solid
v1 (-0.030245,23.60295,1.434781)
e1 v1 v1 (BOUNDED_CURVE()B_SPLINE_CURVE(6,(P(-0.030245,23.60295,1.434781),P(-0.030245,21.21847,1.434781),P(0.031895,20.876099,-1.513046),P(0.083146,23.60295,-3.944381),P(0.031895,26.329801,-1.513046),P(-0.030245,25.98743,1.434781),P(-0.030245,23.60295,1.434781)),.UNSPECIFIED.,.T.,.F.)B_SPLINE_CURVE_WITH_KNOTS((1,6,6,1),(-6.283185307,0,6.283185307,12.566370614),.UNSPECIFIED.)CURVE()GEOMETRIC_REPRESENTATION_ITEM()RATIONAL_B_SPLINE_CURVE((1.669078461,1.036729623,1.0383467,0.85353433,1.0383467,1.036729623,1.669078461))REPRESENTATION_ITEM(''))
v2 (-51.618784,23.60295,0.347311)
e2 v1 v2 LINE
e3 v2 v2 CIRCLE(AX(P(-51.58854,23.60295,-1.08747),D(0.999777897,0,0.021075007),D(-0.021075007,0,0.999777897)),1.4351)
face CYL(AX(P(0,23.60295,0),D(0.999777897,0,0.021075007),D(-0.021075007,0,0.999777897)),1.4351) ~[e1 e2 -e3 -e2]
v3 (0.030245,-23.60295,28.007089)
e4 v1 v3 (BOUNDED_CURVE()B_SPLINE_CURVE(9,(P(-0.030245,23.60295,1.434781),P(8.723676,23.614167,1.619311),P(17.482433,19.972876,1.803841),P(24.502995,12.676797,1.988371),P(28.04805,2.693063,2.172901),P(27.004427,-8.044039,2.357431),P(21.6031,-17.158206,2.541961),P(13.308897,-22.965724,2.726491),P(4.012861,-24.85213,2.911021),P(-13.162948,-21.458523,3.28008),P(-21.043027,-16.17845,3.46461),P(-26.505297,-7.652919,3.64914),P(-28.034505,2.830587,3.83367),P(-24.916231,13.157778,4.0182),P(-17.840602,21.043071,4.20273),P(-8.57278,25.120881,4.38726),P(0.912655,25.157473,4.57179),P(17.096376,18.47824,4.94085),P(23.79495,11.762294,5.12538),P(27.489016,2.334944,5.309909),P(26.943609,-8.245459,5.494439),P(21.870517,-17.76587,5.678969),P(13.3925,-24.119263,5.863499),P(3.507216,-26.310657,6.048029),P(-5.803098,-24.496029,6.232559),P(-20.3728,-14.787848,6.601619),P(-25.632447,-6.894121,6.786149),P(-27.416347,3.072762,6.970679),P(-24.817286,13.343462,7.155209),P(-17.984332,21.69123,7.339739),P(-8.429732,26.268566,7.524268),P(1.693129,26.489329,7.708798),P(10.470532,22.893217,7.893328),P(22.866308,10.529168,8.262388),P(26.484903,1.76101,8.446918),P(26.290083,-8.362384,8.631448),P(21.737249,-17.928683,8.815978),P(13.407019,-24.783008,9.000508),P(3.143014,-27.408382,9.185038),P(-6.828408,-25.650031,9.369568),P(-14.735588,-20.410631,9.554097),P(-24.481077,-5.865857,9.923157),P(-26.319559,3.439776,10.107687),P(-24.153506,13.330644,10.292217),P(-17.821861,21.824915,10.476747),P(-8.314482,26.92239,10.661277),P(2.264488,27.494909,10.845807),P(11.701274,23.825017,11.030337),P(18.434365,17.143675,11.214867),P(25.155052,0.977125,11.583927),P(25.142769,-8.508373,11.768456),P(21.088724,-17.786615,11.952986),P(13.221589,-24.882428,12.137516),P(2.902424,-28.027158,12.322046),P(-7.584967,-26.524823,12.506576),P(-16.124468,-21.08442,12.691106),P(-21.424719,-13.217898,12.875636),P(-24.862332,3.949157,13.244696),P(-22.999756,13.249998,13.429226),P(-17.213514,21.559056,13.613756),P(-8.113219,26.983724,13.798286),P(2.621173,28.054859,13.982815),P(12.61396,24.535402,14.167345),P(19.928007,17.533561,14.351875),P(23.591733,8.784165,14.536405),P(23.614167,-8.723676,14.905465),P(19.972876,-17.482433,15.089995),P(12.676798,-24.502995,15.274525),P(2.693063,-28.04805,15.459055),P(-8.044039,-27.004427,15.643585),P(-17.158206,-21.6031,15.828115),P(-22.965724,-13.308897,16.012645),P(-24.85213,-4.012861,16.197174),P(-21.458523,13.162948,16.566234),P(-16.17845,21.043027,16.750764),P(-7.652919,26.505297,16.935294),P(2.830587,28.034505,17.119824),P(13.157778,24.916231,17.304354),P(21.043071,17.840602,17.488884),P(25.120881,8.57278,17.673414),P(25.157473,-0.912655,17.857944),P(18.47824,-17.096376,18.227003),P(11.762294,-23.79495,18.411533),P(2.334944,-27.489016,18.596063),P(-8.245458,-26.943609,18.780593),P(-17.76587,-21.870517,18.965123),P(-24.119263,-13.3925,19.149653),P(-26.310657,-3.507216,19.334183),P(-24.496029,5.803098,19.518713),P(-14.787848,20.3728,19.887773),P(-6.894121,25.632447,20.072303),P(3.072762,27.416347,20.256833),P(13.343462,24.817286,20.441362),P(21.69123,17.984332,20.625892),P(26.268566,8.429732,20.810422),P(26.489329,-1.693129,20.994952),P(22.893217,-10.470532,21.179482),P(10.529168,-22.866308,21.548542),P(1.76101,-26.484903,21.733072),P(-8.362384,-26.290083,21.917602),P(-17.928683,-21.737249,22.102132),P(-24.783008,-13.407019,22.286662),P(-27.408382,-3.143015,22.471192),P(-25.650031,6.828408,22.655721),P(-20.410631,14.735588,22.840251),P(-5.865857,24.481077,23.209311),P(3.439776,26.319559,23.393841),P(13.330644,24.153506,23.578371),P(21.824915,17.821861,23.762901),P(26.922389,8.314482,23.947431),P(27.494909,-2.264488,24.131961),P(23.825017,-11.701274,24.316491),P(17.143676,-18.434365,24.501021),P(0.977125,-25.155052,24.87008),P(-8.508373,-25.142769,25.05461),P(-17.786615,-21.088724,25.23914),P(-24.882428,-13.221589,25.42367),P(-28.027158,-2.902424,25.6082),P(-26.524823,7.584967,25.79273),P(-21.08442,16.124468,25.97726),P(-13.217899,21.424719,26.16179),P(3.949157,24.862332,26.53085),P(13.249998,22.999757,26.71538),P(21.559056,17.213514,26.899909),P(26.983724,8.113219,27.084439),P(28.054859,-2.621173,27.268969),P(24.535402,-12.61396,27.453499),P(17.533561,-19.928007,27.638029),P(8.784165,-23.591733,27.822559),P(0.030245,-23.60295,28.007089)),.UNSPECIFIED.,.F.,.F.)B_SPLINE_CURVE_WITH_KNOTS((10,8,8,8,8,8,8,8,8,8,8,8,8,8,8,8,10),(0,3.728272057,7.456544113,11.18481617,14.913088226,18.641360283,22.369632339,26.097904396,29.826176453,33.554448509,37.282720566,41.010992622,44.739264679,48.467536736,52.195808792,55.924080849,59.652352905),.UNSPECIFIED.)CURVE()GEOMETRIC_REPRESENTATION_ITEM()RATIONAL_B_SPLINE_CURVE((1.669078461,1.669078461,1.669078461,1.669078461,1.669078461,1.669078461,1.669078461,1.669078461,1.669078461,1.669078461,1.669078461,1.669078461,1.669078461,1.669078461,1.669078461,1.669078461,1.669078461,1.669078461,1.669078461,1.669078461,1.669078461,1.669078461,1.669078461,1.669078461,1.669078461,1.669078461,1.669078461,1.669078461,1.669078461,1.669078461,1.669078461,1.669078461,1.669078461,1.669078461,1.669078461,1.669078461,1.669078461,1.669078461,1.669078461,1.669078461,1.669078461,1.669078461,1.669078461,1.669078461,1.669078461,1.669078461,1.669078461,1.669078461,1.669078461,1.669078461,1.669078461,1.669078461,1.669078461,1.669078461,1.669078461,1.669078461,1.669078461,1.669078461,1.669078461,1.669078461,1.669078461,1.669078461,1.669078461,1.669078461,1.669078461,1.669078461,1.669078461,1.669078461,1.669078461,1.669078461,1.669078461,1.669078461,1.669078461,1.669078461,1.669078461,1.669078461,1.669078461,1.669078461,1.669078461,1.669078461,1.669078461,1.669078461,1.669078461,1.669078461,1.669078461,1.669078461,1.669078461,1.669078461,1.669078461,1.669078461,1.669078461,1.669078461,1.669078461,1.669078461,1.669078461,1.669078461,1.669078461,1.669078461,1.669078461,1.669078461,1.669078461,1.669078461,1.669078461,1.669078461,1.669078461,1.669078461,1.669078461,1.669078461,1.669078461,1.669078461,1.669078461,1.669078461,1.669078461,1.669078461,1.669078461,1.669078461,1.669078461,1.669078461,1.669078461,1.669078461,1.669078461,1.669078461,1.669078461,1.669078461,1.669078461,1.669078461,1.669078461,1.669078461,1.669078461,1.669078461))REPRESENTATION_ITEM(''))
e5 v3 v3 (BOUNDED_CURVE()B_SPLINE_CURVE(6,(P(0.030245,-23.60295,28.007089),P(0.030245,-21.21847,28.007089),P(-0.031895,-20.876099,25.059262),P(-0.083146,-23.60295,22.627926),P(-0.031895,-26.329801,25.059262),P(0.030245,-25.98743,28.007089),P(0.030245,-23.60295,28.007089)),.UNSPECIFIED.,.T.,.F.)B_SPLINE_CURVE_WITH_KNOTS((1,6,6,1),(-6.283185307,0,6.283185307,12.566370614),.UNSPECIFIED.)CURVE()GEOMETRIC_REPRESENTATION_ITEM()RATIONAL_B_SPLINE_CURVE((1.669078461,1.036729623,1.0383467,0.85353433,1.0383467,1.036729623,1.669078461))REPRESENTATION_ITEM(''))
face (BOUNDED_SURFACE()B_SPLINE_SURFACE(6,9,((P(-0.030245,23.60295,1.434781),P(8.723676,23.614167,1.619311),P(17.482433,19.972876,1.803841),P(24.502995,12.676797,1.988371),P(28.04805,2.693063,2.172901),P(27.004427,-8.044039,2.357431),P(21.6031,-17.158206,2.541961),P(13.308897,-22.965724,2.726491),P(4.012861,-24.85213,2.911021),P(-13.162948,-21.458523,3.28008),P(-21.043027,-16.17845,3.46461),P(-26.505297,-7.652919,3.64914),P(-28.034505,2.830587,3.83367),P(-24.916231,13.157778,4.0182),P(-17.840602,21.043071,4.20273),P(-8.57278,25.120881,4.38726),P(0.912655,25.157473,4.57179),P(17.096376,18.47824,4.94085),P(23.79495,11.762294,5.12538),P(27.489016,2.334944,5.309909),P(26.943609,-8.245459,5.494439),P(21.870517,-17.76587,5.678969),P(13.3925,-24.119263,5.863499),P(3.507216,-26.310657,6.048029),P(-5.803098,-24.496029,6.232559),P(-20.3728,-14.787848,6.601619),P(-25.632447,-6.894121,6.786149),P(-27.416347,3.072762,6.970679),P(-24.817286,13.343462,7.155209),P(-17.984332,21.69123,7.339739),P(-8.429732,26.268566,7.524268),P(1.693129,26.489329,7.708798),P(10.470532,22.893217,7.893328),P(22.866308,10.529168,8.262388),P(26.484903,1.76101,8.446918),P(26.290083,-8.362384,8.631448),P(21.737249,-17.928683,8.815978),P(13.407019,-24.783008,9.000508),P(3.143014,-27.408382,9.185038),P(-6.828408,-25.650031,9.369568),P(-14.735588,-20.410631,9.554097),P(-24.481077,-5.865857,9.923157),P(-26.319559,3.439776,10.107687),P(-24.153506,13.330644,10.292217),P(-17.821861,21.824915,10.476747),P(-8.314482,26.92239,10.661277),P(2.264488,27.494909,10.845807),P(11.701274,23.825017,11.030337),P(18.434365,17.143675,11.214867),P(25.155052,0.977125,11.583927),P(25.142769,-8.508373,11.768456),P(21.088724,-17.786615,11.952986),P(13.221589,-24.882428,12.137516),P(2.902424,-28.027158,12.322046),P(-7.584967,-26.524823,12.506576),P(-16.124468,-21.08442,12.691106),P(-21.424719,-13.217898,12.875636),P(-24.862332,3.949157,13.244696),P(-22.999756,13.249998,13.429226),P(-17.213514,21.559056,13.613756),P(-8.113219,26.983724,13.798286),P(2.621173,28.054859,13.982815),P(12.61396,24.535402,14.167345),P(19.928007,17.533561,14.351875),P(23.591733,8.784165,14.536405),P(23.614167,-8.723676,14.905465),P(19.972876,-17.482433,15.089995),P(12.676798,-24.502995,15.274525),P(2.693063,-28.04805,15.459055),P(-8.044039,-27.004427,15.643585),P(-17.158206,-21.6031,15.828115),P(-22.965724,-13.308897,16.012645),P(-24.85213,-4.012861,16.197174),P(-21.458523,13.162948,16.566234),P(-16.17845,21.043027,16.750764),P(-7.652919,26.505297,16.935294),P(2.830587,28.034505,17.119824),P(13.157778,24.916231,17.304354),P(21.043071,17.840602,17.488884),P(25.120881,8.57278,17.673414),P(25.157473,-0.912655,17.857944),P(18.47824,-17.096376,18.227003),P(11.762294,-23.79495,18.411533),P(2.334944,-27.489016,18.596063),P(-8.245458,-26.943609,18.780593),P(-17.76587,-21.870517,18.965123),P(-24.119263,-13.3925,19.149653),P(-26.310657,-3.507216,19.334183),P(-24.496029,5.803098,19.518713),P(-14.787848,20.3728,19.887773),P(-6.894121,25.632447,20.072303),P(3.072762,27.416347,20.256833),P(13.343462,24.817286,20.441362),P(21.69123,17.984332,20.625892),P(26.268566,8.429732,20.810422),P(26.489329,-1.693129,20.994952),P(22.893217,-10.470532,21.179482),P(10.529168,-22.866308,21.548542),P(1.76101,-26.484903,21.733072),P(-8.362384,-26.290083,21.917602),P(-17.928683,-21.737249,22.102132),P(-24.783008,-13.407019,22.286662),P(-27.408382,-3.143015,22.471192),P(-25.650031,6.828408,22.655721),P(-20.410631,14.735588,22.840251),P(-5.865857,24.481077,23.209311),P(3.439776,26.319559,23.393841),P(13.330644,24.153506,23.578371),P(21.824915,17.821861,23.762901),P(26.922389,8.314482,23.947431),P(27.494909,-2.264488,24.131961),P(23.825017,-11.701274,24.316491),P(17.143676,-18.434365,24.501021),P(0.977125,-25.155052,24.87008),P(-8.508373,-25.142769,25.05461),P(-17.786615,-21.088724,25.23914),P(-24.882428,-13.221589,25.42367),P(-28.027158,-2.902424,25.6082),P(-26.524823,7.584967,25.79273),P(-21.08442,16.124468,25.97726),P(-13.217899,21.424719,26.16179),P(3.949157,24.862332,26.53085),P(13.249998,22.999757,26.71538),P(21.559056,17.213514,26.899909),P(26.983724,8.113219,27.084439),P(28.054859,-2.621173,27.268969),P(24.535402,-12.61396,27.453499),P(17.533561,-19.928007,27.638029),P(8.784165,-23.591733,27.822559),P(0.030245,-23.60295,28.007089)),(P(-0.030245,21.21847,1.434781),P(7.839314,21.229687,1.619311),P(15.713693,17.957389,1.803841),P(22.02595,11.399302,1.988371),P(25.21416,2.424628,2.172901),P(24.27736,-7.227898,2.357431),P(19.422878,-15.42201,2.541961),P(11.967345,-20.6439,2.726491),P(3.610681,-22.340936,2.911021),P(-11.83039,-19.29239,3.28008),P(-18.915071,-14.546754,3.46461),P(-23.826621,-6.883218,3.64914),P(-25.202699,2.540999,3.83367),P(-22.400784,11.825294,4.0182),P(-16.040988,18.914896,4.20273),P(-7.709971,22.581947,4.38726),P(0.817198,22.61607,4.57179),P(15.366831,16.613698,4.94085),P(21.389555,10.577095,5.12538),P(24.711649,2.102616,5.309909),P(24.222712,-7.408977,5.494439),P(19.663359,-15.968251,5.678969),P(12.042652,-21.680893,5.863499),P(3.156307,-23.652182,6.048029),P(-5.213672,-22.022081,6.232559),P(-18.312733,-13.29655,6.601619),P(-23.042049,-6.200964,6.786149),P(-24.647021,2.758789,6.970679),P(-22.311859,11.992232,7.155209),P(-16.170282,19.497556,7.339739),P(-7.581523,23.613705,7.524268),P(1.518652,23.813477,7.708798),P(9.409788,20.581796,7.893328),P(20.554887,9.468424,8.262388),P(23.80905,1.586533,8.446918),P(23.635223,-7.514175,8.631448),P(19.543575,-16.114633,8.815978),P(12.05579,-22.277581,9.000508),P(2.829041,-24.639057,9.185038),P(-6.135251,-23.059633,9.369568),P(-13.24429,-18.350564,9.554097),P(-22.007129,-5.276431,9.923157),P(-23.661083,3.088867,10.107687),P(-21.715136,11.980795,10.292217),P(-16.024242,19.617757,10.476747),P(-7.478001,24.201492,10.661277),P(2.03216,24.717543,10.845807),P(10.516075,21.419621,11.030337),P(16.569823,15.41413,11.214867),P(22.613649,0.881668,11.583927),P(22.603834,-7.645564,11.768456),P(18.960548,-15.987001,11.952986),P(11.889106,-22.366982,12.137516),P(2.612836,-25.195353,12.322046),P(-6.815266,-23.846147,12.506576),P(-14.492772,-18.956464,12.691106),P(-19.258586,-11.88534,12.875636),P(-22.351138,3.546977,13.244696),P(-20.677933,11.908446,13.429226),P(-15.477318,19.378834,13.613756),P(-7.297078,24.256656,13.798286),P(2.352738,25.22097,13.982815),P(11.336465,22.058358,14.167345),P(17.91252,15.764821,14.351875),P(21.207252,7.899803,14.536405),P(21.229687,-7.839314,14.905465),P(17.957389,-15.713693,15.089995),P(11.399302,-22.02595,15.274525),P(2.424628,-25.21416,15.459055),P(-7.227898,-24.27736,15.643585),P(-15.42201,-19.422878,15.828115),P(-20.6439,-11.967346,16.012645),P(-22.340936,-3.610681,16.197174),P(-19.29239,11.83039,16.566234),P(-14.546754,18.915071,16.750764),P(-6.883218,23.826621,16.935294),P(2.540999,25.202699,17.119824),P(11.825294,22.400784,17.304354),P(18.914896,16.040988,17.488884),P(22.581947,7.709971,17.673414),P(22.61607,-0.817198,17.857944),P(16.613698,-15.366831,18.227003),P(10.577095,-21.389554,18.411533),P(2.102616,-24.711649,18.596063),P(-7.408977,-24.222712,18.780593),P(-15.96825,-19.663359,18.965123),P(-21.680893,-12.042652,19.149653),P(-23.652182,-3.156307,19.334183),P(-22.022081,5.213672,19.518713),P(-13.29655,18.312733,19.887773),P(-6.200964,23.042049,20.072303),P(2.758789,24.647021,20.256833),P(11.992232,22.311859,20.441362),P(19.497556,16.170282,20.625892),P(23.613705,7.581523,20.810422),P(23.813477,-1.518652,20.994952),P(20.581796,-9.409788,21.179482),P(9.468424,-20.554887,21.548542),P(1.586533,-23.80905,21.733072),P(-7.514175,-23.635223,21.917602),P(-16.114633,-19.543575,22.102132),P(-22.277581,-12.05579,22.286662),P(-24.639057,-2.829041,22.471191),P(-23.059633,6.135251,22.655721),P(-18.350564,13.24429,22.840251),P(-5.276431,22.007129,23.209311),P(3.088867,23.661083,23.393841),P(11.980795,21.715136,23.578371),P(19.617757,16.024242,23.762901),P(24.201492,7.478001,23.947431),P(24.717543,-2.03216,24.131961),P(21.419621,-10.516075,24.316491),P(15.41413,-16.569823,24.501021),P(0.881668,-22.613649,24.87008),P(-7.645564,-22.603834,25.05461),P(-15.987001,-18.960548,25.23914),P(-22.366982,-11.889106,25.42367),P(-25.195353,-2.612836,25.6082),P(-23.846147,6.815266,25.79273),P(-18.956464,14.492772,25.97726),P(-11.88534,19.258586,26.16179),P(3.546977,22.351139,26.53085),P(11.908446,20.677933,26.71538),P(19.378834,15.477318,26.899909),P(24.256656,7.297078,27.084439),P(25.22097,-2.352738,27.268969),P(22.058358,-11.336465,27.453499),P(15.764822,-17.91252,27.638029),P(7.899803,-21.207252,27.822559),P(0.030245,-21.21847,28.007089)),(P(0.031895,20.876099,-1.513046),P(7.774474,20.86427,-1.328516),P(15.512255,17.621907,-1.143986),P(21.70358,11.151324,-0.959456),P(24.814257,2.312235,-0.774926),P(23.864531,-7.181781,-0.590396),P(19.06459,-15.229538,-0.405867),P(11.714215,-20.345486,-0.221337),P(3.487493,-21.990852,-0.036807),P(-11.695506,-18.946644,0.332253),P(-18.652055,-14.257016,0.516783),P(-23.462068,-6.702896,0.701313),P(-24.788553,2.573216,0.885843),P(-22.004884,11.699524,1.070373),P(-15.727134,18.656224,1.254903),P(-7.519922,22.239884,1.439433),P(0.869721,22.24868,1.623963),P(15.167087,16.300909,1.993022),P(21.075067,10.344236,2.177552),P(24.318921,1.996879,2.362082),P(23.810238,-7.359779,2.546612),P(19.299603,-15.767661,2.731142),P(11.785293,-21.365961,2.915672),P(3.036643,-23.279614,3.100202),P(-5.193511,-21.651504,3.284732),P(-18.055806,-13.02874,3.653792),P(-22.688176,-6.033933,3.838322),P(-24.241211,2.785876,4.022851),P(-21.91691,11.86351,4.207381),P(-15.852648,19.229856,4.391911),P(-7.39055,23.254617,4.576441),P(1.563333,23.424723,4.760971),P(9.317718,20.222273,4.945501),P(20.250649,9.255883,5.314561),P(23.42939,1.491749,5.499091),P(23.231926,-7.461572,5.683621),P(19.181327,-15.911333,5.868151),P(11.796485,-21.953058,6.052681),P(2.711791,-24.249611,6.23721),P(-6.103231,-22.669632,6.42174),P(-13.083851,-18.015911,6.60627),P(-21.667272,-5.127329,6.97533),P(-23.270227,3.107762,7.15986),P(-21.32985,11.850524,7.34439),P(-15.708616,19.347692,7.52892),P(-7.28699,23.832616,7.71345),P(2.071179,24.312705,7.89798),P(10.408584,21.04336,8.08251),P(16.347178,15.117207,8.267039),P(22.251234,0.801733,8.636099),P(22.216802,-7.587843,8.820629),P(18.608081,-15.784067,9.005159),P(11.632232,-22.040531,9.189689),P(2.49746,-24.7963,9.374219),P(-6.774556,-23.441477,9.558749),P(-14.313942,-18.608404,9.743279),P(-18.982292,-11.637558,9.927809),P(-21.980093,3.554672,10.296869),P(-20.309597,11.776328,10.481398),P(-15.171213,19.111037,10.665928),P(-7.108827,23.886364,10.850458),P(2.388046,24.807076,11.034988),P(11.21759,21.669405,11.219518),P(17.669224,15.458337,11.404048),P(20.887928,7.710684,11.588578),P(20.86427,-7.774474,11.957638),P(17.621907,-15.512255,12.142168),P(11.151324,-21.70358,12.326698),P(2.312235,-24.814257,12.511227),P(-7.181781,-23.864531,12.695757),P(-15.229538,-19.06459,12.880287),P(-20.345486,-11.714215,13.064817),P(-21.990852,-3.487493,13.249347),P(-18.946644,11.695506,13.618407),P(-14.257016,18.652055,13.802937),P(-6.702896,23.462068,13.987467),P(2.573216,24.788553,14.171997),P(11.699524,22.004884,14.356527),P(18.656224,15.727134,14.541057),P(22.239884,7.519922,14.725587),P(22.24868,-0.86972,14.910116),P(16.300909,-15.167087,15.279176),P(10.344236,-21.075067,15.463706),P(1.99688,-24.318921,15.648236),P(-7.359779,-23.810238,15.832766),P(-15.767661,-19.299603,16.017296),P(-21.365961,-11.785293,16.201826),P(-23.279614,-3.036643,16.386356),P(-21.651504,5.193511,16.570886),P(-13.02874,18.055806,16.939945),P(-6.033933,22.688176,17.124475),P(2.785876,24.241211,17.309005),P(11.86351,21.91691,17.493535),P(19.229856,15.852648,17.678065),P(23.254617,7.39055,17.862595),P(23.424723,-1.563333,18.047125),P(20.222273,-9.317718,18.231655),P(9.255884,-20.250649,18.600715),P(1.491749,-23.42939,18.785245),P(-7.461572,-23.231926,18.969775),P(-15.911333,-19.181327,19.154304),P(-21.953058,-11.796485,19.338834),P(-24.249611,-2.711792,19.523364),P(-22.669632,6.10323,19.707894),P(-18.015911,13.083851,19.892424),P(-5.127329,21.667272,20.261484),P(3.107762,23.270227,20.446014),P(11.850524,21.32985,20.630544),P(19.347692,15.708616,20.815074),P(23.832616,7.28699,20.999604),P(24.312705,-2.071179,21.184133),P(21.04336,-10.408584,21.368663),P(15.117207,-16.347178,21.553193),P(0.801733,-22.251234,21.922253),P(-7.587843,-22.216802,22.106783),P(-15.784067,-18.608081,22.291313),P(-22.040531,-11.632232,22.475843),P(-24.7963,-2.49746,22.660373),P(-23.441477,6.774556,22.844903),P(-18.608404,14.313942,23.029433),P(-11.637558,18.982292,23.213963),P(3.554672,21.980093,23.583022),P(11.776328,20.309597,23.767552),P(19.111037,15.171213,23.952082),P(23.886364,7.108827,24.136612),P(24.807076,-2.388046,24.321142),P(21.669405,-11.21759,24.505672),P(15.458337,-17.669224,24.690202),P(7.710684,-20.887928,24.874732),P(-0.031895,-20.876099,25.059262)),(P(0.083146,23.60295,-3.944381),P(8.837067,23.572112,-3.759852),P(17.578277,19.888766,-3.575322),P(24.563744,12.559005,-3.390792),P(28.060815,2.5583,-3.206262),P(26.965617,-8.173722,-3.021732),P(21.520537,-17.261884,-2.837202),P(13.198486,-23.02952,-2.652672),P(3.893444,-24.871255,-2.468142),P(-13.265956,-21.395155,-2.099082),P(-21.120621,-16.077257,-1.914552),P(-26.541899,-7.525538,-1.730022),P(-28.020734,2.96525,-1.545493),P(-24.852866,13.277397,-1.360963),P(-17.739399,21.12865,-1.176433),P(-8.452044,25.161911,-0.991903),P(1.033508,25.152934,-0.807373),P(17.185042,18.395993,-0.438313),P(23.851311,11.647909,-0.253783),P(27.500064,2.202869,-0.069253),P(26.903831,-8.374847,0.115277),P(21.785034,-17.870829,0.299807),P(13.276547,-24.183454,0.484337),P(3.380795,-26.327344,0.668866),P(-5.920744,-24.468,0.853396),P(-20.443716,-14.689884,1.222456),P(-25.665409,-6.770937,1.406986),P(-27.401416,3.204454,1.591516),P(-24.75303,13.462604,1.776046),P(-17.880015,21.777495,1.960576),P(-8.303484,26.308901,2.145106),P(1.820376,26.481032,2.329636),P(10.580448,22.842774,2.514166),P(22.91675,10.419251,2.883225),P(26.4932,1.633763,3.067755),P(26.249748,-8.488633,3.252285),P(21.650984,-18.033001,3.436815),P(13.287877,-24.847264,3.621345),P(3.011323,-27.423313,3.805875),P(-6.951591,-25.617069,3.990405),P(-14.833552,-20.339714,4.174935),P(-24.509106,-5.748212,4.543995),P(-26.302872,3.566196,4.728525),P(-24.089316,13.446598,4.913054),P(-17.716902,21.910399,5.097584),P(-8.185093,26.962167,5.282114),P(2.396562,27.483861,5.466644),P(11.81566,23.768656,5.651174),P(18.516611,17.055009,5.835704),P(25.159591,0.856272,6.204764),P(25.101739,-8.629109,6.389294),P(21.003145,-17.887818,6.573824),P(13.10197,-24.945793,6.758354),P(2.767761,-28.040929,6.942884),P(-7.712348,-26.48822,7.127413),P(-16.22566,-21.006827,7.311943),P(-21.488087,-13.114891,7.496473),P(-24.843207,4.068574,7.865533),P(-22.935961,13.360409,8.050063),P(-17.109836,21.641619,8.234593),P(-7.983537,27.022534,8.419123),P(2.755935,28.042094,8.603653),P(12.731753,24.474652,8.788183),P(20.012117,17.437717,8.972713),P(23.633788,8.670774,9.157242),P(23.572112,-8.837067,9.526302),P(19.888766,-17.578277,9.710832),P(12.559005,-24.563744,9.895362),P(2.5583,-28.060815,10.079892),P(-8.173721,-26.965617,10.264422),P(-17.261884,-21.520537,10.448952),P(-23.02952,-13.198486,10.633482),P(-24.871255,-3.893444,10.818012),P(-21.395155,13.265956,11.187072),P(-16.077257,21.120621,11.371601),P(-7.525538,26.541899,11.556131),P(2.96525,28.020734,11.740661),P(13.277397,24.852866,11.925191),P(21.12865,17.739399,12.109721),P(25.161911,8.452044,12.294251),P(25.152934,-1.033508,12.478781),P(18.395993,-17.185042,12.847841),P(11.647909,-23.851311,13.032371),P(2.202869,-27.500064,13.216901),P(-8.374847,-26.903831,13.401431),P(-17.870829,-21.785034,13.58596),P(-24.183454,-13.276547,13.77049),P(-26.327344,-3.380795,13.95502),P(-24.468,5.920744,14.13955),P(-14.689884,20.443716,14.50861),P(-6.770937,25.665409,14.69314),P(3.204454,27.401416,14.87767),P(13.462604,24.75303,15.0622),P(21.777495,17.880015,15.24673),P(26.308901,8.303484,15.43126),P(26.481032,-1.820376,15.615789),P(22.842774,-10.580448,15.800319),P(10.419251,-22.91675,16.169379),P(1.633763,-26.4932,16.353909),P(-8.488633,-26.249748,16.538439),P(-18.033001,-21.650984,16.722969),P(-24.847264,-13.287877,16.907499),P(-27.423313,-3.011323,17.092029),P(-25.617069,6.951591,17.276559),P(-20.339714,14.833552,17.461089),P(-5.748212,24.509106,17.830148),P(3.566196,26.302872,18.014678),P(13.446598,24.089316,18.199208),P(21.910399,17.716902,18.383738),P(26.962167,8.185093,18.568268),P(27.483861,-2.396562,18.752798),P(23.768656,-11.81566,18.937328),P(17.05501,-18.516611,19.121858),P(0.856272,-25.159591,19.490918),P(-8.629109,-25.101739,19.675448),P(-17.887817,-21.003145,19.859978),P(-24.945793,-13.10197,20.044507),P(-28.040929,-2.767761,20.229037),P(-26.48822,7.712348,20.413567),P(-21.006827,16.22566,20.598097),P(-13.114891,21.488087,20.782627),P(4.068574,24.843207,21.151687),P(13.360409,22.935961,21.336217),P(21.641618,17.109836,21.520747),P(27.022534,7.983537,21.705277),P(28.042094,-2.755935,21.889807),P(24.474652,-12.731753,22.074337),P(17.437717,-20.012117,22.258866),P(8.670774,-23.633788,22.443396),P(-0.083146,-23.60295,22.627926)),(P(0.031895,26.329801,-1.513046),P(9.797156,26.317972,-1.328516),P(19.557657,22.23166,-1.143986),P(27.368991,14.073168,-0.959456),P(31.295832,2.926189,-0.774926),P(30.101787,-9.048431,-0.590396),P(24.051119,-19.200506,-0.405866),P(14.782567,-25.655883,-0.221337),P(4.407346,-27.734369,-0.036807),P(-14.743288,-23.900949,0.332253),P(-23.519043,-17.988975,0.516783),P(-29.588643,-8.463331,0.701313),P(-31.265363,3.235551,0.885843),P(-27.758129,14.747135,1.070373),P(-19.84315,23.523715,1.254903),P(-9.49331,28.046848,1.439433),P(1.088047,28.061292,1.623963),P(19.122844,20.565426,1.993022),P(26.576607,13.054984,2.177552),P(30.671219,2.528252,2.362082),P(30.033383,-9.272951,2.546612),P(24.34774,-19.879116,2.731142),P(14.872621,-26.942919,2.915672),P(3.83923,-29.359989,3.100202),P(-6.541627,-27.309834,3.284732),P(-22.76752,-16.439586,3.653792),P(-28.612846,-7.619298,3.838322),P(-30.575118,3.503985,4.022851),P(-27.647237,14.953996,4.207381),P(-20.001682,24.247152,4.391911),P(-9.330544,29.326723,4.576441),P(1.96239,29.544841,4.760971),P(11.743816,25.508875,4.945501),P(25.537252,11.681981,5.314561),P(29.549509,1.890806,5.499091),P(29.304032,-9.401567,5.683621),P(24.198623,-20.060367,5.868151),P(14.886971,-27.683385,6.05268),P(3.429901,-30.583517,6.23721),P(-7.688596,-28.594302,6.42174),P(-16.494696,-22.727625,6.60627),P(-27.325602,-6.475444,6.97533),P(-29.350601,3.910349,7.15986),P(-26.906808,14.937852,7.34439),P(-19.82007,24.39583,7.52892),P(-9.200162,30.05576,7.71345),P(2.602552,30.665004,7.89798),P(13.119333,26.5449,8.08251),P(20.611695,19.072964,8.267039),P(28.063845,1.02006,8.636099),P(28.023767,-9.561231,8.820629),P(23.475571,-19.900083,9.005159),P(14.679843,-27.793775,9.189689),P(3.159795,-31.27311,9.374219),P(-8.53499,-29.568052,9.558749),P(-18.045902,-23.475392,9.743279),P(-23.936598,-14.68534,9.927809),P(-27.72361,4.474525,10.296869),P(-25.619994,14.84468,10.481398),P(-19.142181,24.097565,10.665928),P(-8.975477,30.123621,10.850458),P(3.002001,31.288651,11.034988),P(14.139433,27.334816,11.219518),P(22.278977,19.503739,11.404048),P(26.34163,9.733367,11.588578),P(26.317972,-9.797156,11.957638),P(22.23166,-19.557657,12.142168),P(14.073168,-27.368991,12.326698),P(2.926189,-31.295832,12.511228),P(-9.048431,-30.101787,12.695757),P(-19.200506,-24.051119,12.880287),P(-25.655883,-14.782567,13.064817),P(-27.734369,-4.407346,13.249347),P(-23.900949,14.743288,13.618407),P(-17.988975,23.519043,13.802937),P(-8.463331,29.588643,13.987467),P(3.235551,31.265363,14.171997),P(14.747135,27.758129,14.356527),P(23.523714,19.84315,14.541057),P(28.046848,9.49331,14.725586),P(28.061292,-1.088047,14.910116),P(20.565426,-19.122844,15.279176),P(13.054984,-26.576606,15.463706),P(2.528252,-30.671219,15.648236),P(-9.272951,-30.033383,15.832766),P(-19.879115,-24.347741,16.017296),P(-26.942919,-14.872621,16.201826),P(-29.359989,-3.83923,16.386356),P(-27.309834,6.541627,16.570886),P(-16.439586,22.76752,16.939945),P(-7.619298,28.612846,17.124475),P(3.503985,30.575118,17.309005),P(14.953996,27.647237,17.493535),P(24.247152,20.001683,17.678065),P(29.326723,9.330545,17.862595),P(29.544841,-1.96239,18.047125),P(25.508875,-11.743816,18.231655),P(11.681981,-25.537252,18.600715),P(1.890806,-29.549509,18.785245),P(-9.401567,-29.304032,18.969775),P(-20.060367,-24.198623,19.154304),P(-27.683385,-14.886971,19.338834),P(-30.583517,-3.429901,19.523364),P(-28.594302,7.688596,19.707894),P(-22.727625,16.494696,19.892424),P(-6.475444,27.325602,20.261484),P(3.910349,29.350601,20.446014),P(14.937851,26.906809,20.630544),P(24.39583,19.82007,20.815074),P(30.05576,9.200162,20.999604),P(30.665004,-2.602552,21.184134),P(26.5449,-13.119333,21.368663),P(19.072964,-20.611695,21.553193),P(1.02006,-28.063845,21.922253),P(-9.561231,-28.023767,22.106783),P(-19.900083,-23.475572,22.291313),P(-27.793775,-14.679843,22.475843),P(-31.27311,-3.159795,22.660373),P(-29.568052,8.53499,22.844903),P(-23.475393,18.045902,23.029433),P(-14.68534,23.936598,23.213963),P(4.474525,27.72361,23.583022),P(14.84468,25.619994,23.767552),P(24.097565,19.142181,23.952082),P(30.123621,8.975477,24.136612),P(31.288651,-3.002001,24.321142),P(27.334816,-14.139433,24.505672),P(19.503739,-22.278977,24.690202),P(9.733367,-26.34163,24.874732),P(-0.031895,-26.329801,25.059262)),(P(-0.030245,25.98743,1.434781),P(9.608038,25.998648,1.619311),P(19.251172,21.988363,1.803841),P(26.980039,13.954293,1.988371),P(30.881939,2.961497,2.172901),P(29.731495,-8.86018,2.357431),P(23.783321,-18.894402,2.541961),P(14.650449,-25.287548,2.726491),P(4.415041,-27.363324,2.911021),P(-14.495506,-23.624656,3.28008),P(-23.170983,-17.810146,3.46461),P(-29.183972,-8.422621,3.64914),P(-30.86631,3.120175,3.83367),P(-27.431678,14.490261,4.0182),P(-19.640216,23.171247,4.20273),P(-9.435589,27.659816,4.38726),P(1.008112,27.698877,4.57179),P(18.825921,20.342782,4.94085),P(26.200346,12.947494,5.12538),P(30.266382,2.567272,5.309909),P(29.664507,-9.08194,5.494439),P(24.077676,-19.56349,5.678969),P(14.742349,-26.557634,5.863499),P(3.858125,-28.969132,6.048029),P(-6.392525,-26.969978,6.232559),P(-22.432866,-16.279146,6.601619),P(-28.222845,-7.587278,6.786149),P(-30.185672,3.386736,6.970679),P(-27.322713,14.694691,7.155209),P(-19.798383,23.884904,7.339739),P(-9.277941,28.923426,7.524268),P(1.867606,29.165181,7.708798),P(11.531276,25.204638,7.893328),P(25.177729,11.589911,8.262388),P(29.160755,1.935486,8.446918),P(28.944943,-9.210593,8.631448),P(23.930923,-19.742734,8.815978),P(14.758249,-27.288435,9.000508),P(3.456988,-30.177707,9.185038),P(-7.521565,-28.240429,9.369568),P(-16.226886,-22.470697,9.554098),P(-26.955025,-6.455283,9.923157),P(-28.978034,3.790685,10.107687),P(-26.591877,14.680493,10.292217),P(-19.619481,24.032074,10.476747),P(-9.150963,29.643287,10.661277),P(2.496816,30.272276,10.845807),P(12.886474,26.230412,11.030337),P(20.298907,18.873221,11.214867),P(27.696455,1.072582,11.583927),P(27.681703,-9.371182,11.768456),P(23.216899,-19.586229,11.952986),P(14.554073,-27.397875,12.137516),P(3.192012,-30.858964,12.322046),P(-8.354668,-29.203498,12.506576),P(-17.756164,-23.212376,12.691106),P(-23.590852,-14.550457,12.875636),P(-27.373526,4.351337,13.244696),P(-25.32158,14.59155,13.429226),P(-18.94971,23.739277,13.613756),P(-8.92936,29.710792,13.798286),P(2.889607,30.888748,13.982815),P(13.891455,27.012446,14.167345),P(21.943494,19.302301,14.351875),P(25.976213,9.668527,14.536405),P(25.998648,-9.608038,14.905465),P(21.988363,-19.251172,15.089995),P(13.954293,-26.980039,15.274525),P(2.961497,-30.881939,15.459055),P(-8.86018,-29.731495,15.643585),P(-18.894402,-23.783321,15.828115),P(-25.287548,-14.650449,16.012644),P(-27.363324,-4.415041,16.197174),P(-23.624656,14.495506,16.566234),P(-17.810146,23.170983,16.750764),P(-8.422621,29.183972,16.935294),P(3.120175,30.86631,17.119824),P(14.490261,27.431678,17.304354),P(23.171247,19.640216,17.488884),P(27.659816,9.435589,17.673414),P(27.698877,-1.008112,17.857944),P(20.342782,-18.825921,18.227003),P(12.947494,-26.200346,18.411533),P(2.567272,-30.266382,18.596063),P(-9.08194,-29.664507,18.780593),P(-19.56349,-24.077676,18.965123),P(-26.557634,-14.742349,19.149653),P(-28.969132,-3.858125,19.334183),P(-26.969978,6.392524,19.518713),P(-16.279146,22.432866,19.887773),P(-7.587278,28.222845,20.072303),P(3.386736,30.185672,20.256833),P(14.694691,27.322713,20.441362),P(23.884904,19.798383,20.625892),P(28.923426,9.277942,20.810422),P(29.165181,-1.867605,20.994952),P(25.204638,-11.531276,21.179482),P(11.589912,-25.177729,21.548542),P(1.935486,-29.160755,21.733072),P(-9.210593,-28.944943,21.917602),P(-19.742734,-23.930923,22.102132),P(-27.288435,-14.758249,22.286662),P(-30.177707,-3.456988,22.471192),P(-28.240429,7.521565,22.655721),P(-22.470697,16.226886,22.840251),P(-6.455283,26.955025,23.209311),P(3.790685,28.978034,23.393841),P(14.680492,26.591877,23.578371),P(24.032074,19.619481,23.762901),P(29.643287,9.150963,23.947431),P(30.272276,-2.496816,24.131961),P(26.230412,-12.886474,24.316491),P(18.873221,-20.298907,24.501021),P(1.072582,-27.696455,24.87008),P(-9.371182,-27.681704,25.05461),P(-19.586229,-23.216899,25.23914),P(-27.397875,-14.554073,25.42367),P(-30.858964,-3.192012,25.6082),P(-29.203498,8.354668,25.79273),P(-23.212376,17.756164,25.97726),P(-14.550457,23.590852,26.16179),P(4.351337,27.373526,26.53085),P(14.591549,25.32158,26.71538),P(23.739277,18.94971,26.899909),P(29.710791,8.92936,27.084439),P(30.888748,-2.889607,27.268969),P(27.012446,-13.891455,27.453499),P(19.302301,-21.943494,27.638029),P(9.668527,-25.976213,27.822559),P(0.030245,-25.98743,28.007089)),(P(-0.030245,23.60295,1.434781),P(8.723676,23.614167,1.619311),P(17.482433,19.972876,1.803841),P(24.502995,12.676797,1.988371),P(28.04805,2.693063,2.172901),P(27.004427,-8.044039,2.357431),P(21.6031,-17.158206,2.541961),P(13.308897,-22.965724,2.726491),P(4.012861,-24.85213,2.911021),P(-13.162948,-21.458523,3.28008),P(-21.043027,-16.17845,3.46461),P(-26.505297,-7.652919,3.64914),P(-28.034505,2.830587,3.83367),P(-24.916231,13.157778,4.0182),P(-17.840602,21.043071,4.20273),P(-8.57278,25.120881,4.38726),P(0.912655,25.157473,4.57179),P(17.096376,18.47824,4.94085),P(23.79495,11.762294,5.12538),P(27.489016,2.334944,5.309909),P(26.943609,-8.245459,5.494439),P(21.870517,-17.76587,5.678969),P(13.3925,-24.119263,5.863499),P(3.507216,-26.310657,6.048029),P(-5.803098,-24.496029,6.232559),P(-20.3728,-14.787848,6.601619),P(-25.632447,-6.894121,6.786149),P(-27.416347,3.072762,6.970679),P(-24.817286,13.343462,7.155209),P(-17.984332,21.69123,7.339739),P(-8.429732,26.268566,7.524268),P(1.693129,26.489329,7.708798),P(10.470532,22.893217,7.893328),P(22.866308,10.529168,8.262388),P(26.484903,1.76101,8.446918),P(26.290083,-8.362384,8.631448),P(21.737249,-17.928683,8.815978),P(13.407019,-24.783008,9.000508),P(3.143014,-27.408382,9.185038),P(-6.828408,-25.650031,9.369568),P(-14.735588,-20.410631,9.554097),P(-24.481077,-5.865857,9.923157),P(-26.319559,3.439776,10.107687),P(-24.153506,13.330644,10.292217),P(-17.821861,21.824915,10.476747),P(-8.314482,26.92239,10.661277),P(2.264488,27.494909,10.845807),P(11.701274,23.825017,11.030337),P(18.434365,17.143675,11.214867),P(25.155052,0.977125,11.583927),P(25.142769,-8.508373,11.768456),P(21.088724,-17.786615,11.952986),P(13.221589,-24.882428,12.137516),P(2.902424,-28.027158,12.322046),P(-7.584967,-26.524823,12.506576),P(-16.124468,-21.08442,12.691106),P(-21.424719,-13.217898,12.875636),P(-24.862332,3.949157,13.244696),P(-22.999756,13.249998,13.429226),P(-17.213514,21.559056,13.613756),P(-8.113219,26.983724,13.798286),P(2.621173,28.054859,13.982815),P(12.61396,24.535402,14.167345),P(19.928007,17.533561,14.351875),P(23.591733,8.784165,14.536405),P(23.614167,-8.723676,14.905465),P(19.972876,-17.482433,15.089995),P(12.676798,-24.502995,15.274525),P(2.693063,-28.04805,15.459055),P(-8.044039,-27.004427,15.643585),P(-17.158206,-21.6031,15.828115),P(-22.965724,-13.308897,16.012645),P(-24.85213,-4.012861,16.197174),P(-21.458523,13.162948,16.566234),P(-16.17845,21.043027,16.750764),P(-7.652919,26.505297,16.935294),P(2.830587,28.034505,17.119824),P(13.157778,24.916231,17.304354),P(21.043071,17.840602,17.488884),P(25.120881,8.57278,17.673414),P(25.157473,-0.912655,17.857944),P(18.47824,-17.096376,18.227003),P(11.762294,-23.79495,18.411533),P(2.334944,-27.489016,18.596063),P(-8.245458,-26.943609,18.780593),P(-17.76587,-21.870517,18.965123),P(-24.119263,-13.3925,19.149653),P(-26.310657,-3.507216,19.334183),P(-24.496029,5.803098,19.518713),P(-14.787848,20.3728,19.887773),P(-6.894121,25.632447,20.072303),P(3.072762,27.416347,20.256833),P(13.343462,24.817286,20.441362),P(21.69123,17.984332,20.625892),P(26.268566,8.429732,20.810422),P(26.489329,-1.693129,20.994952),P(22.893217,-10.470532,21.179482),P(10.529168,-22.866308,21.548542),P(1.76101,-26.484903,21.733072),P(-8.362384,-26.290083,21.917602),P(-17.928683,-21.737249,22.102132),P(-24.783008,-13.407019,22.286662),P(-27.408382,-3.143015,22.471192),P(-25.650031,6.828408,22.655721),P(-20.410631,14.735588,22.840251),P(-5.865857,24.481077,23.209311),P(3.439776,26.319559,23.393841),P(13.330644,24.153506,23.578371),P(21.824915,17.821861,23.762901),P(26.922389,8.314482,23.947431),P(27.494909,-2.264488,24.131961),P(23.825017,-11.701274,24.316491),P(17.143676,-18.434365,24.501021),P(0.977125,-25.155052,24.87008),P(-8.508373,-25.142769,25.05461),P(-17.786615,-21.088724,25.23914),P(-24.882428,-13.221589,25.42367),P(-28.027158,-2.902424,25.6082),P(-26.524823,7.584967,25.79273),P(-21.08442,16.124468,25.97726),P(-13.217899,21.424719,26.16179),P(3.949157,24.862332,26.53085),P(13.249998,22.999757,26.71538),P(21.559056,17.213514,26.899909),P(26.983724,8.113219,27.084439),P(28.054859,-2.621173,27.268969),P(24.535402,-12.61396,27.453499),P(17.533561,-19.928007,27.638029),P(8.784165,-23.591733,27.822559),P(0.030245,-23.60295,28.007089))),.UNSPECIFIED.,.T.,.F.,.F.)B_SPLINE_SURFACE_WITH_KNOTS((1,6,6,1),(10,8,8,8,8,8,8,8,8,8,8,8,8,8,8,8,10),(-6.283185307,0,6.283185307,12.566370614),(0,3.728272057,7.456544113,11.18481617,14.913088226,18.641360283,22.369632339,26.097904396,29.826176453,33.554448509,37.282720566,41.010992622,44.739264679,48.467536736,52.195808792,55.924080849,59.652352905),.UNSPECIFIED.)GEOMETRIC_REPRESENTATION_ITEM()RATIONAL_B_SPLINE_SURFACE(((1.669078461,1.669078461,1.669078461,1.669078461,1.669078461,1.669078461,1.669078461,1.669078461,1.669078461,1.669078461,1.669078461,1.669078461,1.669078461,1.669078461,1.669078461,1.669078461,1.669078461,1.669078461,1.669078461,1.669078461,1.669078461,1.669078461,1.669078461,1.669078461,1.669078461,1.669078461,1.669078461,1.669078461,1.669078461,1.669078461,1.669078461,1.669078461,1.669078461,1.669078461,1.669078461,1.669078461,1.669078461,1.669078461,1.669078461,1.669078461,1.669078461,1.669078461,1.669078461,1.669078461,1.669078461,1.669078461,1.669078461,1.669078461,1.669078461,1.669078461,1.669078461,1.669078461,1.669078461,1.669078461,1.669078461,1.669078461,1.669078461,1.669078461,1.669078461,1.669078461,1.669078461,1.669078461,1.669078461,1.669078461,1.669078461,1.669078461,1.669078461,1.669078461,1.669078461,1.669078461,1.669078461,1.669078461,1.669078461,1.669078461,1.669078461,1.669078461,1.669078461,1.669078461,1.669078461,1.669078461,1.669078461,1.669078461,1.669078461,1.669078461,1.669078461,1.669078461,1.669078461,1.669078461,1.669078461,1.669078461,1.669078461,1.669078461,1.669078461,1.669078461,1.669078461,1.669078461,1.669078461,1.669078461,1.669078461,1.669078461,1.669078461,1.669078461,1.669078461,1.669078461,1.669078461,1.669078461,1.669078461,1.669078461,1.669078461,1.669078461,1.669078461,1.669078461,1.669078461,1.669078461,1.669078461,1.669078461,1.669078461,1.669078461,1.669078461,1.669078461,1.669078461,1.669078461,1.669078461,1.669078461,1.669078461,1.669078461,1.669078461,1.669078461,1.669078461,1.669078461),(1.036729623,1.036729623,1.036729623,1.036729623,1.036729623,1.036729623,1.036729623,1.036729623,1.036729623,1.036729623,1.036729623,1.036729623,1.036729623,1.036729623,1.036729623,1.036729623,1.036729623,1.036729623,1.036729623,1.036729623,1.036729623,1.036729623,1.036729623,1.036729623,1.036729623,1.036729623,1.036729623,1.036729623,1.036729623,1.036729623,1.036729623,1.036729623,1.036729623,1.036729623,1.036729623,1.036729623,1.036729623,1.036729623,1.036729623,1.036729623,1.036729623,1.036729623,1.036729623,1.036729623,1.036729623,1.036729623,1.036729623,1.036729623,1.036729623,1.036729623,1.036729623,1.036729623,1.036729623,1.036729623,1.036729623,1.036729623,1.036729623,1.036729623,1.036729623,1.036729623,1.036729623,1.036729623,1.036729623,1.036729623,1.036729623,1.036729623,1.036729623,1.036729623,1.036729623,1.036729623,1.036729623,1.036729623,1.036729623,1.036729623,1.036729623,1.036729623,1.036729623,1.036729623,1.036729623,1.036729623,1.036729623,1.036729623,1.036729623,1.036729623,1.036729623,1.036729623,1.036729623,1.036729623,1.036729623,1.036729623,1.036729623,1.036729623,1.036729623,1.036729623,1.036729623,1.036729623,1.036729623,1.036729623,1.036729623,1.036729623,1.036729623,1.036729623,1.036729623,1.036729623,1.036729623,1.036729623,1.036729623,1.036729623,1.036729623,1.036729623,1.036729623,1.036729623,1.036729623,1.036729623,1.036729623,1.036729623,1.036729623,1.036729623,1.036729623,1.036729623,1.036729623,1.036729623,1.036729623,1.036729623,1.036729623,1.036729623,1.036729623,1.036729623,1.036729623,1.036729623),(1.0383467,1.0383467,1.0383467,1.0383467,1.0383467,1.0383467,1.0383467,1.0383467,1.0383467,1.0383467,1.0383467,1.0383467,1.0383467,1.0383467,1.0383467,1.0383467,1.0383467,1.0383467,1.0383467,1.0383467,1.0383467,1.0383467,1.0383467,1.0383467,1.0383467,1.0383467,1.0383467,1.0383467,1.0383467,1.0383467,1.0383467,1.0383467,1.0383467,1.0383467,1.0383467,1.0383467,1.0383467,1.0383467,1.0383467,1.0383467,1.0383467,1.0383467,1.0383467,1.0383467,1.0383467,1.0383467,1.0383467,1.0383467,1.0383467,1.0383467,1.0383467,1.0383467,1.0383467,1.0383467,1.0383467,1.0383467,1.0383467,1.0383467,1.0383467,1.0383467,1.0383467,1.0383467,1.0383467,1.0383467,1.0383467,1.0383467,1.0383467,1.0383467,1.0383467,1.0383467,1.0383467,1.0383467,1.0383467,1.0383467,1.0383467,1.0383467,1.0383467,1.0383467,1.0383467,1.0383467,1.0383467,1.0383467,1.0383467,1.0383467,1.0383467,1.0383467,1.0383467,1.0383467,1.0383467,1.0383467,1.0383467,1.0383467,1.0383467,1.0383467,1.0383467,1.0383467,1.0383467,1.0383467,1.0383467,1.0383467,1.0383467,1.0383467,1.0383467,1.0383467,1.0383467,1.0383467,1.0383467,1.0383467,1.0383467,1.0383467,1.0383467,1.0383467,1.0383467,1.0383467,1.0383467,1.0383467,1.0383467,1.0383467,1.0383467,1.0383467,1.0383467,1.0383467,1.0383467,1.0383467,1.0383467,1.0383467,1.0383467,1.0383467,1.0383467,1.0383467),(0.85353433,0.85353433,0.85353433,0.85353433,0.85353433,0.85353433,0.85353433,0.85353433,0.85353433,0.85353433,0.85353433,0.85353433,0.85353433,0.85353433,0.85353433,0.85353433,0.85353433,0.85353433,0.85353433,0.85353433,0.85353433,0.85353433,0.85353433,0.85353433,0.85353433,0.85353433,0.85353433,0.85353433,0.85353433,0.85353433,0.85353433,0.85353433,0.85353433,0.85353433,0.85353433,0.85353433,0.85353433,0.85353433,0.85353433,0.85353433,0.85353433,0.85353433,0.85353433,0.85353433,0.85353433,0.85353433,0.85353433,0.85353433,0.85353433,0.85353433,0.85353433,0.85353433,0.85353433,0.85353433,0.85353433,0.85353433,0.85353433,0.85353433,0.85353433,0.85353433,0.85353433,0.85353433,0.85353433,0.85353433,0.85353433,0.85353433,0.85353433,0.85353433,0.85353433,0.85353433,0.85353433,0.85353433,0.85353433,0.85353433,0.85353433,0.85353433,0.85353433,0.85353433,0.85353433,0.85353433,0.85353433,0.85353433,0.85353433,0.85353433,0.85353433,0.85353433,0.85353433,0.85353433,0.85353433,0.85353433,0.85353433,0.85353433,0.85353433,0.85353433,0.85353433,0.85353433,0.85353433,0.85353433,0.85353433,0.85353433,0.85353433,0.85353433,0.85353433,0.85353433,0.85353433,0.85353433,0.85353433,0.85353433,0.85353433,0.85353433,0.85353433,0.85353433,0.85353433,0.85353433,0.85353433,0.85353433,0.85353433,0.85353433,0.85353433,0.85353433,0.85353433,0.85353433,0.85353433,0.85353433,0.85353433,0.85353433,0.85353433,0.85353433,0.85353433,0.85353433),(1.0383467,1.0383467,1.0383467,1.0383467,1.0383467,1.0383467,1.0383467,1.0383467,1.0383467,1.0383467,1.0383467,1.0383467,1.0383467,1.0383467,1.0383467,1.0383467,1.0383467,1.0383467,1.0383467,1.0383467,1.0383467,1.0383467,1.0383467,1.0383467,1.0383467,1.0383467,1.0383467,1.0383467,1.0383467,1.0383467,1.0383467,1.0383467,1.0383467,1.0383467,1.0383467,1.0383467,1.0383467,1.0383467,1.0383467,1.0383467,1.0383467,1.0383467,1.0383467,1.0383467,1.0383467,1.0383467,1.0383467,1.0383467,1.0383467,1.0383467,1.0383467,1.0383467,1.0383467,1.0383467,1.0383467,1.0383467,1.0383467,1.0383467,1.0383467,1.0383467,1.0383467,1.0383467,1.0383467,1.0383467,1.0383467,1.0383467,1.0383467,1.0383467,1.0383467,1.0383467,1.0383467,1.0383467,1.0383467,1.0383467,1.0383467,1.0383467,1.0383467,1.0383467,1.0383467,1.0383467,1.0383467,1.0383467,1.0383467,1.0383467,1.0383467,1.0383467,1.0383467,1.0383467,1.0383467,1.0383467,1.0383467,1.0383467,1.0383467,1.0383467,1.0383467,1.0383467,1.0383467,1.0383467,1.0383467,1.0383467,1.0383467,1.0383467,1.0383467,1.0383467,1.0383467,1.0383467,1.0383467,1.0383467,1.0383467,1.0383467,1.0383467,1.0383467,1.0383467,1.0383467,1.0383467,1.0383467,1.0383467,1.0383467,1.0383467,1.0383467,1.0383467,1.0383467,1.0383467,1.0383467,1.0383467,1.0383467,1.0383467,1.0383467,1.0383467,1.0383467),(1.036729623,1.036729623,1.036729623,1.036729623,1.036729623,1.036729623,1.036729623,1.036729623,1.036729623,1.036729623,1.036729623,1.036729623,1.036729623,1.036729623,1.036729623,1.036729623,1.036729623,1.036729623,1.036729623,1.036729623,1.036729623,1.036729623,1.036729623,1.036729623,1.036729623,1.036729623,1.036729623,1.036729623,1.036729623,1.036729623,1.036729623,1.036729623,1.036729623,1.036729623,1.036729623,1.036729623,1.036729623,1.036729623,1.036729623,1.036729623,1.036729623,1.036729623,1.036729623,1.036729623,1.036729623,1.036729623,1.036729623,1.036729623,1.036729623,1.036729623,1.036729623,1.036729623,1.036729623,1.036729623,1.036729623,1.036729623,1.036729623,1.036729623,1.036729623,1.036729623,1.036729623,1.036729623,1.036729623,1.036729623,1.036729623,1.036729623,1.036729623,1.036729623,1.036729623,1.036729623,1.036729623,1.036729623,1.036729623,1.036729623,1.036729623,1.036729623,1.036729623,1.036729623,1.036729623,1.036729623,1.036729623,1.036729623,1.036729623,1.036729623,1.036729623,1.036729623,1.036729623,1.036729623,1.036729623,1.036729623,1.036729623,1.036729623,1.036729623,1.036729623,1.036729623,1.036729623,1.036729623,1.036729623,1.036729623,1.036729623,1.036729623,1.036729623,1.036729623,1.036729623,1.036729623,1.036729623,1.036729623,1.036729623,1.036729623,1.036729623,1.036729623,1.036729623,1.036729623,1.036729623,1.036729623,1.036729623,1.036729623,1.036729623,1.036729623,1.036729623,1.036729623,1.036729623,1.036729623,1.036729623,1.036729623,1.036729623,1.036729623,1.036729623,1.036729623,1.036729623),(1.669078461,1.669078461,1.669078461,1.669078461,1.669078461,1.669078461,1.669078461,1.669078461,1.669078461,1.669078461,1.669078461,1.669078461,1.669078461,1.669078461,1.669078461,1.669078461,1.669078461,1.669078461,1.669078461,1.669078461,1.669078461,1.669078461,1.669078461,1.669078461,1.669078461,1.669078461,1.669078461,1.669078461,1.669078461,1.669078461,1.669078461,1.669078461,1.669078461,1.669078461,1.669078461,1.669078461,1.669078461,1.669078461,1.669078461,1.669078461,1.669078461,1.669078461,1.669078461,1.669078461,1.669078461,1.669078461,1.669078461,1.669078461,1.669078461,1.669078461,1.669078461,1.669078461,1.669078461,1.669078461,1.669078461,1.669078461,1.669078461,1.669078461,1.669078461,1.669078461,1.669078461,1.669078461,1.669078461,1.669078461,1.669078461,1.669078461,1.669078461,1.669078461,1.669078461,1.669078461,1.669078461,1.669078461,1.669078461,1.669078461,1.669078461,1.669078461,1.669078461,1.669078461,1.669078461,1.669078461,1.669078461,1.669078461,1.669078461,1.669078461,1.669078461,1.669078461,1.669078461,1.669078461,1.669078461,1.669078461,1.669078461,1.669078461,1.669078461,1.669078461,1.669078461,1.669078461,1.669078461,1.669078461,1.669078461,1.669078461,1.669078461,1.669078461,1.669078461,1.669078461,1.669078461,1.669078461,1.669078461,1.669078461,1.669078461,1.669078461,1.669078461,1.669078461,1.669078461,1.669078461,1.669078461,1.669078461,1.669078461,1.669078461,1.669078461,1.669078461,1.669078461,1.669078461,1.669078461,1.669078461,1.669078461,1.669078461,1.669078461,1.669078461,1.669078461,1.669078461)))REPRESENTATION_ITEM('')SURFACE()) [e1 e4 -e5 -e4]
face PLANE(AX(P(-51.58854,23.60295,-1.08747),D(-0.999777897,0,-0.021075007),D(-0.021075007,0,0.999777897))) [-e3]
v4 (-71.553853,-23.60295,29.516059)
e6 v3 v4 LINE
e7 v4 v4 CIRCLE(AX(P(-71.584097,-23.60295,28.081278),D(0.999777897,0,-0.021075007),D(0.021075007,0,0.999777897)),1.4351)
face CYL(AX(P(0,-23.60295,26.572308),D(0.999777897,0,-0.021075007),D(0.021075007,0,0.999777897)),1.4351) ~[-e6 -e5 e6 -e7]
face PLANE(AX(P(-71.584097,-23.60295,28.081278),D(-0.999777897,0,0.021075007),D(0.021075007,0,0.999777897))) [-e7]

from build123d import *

# Parameters (mm, degrees)
SWEEP1_PITCH        = 3.126153846
SWEEP1_HEIGHT       = 26.572307688
SWEEP1_RADIUS       = 23.60295
SWEEP1_START_ANGLE  = 90
SKETCH2_R           = 1.4351
SKETCH3_R           = 1.4351
BOSS_EXTRUDE1_DEPTH = 101.6
SKETCH4_R           = 1.4351
BOSS_EXTRUDE2_DEPTH = 101.6
SKETCH5_R           = 5.71457576
CUT_EXTRUDE1_DEPTH  = 50
SKETCH6_R           = 6.6278677
CUT_EXTRUDE2_DEPTH  = 30


with BuildPart() as part:
    # Sweep1: sweep along a helix
    with BuildLine() as sweep1_path:
        add(Helix(SWEEP1_PITCH, SWEEP1_HEIGHT, SWEEP1_RADIUS, center=(0, 0, 0), direction=(0, 0, 1), lefthand=True, mode=Mode.PRIVATE).rotate(Axis((0, 0, 0), (0, 0, 1)), SWEEP1_START_ANGLE))
    # Sketch2 → Sweep1 (sweep)
    with BuildSketch(Plane(origin=(0, -23.60295, 26.572307688), x_dir=(0.02107500680690213, -2.8515923258819254e-15, 0.9997778973792575), z_dir=(-0.9997778973792575, 8.282579636549554e-14, 0.02107500680690213))):
        Circle(SKETCH2_R)
    sweep(path=sweep1_path.line, is_frenet=True)

    # Sketch3 → Boss-Extrude1 (add)
    with BuildSketch(Plane(origin=(0, 0, 0), x_dir=(-0.021075006806902132, 0, 0.9997778973792575), z_dir=(-0.9997778973792575, -4.380828031761047e-15, -0.021075006806902132))):
        with Locations((0, 23.60295)):
            Circle(SKETCH3_R)
    extrude(amount=BOSS_EXTRUDE1_DEPTH)

    # Sketch4 → Boss-Extrude2 (add)
    with BuildSketch(Plane(origin=(-0.559887185, 0, 0.011802248), x_dir=(0.021075006806902146, 7.590996781535367e-15, 0.9997778973792575), z_dir=(-0.9997778973792575, -4.4880577867389604e-15, 0.021075006806902146))):
        with Locations((26.566405909, -23.60295)):
            Circle(SKETCH4_R)
    extrude(amount=BOSS_EXTRUDE2_DEPTH)

    # Sketch5 → Cut-Extrude1 (cut)
    with BuildSketch(Plane(origin=(-101.577434374, 0, -2.141220692), x_dir=(-0.021075006806902132, 0, 0.9997778973792575), z_dir=(-0.9997778973792575, -4.3808280317610446e-15, -0.021075006806902132))):
        with Locations((0, 23.60295)):
            Circle(SKETCH5_R)
    extrude(amount=-CUT_EXTRUDE1_DEPTH, mode=Mode.SUBTRACT)

    # Sketch6 → Cut-Extrude2 (cut)
    with BuildSketch(Plane(origin=(-102.137321559, 0, 2.153022939), x_dir=(0.02107500680690215, 0, 0.9997778973792576), z_dir=(-0.9997778973792576, -4.488057786738958e-15, 0.02107500680690215))):
        with Locations((26.566405909, -23.60295)):
            Circle(SKETCH6_R)
    extrude(amount=-CUT_EXTRUDE2_DEPTH, mode=Mode.SUBTRACT)


solid = part.part
